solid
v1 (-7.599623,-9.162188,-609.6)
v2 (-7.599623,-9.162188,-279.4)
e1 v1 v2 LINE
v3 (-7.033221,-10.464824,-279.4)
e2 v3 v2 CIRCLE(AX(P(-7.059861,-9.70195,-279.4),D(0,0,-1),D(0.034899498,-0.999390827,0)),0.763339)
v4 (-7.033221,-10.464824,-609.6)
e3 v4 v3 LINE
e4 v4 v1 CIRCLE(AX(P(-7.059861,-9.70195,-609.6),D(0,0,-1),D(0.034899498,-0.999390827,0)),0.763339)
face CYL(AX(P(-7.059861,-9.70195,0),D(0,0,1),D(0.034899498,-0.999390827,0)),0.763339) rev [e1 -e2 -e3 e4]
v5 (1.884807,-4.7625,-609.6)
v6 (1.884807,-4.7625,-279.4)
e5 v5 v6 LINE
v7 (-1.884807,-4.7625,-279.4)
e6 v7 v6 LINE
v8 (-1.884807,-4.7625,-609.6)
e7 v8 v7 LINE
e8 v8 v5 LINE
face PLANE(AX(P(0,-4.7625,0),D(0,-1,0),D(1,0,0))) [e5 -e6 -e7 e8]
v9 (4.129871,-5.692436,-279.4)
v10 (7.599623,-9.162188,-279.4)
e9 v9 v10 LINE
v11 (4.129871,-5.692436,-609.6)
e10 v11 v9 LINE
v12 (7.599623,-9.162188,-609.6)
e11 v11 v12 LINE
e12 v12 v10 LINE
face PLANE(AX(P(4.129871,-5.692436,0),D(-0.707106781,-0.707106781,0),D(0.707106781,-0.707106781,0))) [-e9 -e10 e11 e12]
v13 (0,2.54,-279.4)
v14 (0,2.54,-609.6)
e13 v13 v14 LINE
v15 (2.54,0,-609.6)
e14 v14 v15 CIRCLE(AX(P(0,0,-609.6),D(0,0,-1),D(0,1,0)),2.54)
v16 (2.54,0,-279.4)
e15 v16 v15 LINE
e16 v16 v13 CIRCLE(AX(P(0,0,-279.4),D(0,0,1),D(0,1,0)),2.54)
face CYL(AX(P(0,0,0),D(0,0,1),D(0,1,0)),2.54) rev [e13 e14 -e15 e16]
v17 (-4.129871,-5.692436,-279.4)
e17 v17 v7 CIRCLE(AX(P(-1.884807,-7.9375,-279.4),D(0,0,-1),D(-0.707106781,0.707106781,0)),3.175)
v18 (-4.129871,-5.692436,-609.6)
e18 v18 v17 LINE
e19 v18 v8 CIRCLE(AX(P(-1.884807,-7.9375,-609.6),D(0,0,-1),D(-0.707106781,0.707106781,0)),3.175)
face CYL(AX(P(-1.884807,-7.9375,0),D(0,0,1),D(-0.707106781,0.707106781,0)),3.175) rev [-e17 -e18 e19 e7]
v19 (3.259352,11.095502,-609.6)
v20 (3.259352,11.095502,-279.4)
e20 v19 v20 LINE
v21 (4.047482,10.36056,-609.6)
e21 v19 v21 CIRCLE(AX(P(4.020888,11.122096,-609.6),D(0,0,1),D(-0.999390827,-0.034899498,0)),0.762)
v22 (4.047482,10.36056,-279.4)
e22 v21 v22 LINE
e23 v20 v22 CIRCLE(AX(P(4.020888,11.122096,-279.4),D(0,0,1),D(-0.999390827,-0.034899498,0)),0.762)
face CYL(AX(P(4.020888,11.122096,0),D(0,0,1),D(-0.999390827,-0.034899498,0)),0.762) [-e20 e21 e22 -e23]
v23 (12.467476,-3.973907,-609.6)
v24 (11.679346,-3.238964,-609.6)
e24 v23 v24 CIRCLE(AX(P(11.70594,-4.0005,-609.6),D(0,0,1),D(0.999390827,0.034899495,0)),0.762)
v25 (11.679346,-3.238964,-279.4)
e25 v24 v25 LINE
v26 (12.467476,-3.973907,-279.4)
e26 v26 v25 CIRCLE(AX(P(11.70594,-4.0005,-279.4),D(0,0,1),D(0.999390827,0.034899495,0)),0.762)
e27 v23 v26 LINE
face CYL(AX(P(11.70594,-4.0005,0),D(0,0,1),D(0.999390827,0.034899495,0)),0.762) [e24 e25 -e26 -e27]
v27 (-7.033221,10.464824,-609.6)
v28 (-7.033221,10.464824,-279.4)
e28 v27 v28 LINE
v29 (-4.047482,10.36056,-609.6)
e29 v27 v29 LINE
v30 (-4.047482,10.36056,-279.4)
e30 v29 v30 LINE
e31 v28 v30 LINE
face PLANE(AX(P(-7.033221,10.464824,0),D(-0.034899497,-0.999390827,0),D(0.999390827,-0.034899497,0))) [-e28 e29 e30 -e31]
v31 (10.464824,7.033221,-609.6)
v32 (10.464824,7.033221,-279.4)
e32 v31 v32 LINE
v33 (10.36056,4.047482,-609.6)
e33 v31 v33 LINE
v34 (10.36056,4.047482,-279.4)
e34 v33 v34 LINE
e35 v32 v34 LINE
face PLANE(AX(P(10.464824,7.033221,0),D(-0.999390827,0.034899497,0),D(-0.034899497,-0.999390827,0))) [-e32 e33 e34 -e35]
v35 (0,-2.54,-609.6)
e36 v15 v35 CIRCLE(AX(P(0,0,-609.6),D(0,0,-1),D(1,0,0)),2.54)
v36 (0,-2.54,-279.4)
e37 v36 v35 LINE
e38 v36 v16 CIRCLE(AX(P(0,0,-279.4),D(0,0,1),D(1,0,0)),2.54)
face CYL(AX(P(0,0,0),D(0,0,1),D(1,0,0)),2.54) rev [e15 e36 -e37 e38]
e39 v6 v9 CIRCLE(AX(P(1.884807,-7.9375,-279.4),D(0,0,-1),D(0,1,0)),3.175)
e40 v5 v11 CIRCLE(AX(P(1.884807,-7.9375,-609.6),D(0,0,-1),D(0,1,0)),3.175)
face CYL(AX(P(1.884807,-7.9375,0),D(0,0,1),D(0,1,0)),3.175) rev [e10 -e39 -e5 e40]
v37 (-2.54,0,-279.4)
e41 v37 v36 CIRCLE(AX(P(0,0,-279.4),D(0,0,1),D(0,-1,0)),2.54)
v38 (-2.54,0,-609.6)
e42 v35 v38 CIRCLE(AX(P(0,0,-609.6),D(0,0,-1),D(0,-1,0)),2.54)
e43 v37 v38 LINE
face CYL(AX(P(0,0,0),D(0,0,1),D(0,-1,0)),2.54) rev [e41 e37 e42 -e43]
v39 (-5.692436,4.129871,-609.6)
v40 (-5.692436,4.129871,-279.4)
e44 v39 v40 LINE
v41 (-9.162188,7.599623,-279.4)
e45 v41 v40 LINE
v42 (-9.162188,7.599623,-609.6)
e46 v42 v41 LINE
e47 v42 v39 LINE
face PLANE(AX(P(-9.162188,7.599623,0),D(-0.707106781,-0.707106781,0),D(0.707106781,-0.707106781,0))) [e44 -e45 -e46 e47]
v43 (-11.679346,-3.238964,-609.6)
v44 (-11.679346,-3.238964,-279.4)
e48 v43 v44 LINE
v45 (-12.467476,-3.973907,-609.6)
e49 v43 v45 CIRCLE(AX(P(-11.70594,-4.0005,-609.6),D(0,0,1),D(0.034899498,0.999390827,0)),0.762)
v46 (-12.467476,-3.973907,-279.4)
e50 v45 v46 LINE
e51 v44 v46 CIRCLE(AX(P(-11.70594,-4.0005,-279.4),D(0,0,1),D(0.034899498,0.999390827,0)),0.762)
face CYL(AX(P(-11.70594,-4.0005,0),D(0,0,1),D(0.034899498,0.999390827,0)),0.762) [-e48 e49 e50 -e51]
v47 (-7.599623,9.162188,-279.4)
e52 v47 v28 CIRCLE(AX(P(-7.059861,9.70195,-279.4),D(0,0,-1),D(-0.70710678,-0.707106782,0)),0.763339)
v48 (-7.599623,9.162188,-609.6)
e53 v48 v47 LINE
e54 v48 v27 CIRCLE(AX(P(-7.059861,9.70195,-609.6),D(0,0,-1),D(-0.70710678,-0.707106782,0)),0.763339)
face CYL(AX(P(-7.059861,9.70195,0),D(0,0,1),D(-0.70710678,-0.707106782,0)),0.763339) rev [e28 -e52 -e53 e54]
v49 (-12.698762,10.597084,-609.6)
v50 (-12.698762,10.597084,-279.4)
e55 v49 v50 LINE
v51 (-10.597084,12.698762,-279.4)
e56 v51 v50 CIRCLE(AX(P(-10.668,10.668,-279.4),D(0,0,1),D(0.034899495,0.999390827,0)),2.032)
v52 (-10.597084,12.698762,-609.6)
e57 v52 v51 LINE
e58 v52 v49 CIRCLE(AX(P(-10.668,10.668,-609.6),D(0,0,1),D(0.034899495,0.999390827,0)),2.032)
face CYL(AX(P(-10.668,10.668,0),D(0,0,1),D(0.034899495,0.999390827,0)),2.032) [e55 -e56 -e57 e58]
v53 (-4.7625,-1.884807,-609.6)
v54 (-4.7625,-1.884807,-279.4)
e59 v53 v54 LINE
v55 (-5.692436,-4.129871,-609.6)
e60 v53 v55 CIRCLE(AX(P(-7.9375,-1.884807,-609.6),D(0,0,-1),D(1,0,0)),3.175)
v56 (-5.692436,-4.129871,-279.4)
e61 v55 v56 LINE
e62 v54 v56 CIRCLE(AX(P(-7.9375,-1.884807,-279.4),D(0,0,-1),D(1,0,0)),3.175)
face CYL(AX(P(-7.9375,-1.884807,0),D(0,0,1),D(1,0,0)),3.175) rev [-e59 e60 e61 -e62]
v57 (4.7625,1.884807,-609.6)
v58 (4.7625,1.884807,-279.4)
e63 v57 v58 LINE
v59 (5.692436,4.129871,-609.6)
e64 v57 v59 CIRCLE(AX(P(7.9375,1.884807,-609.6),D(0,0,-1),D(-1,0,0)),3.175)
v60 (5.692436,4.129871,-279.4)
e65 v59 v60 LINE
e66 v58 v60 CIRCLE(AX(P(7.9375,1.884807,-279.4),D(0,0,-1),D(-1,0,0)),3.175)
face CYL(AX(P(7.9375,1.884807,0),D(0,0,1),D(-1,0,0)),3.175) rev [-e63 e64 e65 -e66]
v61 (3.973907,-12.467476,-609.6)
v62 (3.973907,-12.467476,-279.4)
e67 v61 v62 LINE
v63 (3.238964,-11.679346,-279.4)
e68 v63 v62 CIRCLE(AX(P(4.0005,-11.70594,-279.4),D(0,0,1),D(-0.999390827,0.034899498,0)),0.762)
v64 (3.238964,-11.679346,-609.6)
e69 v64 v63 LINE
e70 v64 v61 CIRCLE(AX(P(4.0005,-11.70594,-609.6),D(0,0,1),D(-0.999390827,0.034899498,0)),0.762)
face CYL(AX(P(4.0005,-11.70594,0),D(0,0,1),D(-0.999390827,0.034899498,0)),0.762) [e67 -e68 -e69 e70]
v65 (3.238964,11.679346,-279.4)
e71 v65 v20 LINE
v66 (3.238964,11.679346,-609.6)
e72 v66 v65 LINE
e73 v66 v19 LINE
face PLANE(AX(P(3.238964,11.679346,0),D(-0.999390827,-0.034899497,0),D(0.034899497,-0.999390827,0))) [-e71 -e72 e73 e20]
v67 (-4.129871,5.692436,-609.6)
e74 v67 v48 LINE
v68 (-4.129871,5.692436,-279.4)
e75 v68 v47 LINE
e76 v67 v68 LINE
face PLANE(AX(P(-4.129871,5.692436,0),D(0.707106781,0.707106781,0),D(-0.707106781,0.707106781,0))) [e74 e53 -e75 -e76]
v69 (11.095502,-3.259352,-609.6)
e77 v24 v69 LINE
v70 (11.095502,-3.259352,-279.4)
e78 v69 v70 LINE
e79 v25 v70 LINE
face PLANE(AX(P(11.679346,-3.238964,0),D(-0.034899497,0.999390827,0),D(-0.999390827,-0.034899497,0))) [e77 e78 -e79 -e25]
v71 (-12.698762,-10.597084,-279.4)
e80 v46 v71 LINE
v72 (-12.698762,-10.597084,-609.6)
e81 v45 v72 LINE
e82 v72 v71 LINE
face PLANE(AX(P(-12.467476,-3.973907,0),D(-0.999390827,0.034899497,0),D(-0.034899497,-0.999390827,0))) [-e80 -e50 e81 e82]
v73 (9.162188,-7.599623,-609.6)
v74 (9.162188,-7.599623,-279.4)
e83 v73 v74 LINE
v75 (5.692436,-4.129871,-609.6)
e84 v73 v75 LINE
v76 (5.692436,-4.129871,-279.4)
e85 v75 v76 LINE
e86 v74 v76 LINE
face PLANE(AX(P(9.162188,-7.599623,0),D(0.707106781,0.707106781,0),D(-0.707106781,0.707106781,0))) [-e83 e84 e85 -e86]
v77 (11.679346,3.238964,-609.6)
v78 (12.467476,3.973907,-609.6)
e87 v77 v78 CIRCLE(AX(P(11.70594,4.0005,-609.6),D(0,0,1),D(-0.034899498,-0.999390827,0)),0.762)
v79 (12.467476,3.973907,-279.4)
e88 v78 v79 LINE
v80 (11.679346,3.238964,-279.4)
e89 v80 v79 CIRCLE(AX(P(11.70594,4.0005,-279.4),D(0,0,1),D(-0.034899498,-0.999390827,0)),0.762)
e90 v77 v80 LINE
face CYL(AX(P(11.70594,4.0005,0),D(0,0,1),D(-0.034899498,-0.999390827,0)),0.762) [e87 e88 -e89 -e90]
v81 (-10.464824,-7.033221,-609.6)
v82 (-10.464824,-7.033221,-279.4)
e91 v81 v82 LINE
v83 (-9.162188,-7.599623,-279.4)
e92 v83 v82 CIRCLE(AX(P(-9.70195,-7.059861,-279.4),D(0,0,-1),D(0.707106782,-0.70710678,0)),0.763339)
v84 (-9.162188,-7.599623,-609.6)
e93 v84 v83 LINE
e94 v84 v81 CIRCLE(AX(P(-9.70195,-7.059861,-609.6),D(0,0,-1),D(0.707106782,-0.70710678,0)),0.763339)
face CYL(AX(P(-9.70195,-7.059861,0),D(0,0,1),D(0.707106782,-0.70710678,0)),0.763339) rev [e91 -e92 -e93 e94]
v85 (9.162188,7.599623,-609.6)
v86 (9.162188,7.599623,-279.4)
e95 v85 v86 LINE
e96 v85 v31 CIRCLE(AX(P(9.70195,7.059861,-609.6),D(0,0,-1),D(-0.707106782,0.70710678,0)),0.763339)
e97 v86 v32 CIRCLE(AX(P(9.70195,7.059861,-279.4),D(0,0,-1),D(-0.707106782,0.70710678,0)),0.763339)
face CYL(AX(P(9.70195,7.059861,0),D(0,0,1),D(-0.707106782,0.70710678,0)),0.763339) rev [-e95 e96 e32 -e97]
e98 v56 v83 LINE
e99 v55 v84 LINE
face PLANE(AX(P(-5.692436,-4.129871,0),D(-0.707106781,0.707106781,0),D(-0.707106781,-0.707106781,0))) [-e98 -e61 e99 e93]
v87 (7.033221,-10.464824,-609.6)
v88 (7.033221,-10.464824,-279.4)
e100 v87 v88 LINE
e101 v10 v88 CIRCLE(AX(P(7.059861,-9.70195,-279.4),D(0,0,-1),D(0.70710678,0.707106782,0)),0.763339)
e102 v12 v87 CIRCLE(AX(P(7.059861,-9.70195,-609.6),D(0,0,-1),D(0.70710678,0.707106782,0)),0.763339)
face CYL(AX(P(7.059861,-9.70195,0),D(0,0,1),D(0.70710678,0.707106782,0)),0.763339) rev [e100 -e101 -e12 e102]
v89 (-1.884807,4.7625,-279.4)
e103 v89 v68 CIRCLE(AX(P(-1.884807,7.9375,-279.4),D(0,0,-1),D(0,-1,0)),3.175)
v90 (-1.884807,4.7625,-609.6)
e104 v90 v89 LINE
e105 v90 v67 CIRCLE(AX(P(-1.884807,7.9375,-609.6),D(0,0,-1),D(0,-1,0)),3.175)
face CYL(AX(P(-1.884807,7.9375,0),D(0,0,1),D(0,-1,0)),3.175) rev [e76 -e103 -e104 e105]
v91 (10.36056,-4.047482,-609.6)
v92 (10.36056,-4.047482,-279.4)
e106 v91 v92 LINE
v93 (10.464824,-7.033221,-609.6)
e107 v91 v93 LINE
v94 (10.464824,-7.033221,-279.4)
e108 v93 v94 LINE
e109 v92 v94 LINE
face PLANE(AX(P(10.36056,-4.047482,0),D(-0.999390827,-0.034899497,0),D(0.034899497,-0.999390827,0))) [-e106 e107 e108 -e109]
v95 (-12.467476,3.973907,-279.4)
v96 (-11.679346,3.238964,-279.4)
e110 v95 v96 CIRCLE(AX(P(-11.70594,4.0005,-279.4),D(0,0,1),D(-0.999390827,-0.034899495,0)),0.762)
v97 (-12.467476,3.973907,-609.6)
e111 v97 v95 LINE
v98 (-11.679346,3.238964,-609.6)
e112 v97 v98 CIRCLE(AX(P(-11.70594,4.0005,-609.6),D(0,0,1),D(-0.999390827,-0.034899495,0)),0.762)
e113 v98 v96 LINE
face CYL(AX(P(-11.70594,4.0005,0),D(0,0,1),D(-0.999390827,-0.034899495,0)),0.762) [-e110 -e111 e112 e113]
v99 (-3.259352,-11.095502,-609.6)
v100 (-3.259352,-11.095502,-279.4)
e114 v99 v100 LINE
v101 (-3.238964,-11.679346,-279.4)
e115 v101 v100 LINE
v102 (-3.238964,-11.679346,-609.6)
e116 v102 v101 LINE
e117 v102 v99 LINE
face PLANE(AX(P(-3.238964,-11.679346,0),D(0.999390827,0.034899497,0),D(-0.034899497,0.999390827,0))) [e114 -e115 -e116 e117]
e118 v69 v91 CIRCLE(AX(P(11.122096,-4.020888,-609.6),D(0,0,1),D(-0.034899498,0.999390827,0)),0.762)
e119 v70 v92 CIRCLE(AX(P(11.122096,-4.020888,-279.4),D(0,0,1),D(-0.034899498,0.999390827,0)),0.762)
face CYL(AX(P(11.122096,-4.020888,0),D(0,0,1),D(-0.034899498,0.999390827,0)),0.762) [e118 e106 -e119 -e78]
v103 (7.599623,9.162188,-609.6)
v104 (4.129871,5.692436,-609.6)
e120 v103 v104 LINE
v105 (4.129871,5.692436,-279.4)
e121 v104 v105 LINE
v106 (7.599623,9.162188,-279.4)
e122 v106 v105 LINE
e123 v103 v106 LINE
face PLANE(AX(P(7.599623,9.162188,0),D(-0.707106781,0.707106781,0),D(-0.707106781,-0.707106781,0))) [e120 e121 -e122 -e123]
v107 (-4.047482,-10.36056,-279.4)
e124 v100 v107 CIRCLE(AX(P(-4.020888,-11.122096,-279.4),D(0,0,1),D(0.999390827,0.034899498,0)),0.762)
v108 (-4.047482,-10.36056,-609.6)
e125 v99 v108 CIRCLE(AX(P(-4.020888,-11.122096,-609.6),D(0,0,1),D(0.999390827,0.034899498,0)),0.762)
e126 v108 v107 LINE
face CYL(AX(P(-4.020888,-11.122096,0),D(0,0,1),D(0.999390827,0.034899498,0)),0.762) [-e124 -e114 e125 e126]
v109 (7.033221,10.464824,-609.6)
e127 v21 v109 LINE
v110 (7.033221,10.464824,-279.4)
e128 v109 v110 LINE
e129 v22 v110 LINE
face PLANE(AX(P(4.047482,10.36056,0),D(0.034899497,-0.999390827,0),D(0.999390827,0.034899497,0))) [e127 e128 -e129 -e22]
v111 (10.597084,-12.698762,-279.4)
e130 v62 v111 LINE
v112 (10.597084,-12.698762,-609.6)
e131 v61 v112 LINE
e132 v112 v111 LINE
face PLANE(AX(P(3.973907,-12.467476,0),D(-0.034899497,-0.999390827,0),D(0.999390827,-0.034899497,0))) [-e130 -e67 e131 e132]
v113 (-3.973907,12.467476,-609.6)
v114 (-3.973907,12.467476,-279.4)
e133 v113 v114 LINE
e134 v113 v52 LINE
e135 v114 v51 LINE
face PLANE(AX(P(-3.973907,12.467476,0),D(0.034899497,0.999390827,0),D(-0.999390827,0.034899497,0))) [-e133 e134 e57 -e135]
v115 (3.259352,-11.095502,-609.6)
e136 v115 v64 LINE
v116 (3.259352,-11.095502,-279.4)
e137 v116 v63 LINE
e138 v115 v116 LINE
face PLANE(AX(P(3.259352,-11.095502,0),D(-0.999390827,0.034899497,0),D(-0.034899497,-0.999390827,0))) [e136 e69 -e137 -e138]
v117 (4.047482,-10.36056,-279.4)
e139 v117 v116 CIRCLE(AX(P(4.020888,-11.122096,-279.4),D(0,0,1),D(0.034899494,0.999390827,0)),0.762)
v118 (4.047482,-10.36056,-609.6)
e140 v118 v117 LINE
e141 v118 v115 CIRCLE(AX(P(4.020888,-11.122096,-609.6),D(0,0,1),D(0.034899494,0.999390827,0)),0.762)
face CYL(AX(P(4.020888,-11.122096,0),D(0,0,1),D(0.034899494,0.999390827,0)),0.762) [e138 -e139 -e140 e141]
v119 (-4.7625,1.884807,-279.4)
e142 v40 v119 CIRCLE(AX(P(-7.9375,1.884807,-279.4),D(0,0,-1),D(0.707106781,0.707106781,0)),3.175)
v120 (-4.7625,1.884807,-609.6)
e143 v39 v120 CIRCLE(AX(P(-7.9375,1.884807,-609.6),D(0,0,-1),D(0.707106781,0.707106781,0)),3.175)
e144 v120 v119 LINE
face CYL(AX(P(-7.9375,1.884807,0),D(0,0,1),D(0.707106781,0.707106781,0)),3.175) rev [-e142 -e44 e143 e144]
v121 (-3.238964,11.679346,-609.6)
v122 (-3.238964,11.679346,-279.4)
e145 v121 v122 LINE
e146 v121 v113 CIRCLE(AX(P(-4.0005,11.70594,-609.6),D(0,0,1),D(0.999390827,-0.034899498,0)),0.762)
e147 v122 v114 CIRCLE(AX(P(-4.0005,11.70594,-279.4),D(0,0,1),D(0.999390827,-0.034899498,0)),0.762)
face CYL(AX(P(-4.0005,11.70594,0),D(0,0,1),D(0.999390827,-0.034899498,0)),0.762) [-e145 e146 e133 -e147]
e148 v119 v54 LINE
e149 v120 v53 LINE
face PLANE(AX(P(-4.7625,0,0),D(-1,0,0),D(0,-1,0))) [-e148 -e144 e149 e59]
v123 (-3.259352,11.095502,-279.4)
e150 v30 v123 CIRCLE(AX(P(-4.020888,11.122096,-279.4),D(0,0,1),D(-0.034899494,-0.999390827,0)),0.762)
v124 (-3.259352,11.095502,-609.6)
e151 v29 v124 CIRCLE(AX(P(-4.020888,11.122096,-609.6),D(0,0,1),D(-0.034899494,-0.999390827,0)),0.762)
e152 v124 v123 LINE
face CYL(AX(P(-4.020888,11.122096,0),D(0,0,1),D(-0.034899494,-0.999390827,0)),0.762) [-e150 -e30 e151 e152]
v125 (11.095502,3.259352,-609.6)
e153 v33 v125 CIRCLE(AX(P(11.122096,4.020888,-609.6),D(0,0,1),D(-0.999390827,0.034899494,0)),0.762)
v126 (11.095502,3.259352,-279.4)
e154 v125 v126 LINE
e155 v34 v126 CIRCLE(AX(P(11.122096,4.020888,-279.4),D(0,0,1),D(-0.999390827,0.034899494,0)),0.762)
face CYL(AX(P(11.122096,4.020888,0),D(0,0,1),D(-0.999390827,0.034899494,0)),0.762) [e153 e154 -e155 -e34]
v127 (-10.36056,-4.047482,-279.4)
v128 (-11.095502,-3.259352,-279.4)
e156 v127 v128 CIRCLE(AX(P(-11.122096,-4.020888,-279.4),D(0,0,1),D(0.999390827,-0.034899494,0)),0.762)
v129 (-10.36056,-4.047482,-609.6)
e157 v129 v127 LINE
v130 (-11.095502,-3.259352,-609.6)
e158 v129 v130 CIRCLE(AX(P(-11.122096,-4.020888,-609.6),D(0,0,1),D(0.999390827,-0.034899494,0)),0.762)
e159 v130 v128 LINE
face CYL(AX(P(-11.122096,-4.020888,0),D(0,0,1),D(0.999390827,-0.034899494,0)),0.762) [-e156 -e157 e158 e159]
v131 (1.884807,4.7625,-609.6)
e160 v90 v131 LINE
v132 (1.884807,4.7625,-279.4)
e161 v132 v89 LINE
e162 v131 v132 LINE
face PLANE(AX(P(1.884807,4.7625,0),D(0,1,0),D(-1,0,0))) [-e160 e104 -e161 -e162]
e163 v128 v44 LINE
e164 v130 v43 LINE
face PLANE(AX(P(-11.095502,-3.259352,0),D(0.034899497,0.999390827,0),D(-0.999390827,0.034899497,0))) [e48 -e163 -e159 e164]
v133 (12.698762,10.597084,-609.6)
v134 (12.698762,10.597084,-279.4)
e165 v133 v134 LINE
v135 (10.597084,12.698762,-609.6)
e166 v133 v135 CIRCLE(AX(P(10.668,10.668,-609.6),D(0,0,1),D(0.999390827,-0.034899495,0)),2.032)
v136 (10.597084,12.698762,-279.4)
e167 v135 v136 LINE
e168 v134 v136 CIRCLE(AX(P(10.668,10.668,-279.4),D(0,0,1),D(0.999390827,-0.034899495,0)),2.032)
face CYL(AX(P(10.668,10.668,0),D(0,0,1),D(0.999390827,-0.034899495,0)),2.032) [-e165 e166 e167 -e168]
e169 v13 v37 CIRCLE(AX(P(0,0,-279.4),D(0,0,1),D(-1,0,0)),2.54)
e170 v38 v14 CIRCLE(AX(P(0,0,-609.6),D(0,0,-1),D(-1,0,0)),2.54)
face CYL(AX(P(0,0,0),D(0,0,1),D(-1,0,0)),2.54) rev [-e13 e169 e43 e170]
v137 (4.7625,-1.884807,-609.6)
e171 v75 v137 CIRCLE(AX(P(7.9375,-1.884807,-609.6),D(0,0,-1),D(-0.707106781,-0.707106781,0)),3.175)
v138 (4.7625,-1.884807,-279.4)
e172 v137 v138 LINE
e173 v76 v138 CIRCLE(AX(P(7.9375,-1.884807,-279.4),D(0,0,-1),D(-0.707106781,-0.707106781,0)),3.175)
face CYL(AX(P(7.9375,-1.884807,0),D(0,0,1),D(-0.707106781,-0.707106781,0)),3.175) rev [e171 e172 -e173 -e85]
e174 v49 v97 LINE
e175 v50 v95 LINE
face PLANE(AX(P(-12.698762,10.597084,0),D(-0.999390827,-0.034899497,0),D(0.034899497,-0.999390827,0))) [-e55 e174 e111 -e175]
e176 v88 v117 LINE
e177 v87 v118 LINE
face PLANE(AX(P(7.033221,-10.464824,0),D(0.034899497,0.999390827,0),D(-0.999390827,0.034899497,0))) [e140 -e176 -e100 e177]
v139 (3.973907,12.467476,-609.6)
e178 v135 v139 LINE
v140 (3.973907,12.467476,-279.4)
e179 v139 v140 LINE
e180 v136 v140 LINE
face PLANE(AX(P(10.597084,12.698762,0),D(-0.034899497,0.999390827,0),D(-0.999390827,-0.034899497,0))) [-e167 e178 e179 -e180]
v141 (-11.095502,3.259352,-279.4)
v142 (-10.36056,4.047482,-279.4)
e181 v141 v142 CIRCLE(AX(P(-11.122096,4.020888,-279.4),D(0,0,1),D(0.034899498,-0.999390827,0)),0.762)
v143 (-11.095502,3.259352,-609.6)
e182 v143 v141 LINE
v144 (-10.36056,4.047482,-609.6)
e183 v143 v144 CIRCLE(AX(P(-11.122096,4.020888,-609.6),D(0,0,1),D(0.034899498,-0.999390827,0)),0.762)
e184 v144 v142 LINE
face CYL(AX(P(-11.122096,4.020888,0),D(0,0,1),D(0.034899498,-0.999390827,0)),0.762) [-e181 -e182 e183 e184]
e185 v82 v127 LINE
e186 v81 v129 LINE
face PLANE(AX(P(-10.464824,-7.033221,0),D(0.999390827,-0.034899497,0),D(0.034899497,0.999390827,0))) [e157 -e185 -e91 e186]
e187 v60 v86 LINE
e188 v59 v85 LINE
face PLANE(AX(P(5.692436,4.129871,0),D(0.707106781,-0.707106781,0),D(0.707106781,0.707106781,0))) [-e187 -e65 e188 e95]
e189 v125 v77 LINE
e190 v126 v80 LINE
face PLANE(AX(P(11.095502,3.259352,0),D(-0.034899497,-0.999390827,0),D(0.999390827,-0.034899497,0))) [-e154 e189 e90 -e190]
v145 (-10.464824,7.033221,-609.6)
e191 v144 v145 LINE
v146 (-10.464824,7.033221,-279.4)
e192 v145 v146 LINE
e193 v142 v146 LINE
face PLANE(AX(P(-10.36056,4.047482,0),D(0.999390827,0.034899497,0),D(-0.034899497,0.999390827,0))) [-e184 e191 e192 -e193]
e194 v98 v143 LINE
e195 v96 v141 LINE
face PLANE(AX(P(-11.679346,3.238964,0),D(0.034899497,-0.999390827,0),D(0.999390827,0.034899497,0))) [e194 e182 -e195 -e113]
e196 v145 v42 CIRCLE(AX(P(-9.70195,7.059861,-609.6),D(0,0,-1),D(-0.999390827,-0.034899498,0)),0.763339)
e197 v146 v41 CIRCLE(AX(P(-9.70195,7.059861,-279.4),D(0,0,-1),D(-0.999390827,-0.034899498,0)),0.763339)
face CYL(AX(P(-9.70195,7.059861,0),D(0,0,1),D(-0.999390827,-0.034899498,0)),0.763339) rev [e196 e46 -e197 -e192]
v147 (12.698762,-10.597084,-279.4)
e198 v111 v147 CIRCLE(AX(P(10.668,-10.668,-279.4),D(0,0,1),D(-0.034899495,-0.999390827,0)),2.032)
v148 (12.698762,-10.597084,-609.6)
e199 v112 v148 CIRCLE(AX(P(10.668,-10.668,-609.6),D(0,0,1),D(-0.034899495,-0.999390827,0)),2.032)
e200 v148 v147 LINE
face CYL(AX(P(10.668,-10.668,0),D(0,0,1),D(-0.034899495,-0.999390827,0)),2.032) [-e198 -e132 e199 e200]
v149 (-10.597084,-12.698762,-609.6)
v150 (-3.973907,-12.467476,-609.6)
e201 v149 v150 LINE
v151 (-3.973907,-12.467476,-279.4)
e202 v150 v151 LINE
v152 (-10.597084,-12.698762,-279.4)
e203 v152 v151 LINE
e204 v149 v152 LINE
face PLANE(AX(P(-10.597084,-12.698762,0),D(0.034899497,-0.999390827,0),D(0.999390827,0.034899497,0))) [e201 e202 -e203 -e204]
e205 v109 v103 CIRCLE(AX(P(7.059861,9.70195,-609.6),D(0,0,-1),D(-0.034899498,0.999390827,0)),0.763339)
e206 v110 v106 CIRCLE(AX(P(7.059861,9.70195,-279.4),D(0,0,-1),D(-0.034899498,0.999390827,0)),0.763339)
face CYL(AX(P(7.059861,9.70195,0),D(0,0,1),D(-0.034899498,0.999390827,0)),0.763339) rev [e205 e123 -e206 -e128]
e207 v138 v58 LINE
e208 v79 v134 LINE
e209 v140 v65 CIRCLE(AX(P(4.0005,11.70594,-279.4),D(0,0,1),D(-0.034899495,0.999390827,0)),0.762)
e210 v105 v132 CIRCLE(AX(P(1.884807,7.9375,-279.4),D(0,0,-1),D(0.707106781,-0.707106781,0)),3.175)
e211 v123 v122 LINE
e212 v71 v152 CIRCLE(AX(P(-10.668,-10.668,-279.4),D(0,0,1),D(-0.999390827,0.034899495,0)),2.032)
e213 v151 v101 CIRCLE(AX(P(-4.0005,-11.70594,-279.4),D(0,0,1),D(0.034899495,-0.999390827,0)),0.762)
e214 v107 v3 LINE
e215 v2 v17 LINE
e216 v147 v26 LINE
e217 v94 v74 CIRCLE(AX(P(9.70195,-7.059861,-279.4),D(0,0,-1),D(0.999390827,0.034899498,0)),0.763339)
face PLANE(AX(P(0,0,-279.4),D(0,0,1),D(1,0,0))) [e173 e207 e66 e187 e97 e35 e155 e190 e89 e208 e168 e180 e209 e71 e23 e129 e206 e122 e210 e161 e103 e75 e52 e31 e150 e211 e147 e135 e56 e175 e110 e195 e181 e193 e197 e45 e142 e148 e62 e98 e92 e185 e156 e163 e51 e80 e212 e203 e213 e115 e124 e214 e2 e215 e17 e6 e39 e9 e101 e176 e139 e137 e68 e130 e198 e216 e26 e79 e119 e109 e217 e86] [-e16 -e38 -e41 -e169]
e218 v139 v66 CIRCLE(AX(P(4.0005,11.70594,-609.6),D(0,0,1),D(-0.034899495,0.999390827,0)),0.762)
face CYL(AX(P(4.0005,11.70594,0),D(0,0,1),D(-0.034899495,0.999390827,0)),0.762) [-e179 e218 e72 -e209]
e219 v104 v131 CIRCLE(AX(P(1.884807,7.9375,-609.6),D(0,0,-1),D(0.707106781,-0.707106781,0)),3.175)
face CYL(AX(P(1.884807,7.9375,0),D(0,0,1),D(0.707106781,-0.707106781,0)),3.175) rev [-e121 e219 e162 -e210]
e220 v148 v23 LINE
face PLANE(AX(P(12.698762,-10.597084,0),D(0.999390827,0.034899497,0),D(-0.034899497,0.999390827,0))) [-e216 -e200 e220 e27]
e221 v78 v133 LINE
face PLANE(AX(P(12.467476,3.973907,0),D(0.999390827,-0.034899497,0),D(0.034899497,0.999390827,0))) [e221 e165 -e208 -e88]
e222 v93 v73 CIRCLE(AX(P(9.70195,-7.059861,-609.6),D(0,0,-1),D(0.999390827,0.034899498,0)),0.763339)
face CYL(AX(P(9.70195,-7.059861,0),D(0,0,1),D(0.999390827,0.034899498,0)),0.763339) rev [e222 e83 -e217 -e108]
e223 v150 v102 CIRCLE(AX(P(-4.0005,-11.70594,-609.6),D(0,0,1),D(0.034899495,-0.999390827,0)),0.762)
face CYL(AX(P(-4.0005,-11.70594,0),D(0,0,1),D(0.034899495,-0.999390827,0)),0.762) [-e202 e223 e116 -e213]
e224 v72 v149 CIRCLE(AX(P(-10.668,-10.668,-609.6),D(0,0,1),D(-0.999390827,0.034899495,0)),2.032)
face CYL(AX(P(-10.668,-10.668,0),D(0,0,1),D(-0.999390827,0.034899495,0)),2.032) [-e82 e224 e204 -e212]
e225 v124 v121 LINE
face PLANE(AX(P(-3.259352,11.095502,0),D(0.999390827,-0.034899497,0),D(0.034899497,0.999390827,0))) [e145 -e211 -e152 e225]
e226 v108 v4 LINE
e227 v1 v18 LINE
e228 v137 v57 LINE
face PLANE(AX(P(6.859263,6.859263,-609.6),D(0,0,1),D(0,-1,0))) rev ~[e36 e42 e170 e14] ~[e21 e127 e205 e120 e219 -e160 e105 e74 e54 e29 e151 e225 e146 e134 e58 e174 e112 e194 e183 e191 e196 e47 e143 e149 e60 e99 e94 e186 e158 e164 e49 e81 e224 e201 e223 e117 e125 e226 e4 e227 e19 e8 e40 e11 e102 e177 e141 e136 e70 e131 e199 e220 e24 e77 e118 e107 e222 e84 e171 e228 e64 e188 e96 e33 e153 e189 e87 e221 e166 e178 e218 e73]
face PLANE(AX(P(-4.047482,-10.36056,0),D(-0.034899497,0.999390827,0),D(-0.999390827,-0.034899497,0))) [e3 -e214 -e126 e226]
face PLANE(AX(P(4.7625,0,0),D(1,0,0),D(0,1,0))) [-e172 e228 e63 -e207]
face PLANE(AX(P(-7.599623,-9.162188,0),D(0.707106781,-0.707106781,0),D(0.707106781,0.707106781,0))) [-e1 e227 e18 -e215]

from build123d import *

# Parameters (mm, degrees)
BOSS_EXTRUDE1_DEPTH = 609.6
CIRPATTERN1_COUNT   = 4
CUT_EXTRUDE1_DEPTH  = 889


with BuildPart() as part:
    # Sketch3 → Boss-Extrude1 (new, symmetric)
    with BuildSketch(Plane.XY):
        with BuildLine():
            Line((0, 4.7625), (-1.884807374, 4.7625))
            ThreePointArc((-1.884807374, 4.7625), (-3.099827272, 5.004182484), (-4.129871405, 5.69243597))
            Line((-4.129871405, 5.69243597), (-7.599623114, 9.162187679))
            ThreePointArc((-7.599623114, 9.162187679), (-7.759888701, 10.006330839), (-7.033220609, 10.464824259))
            Line((-7.033220609, 10.464824259), (-4.047481702, 10.360559959))
            ThreePointArc((-4.047481702, 10.360559959), (-3.501205536, 10.564804249), (-3.259352476, 11.095502353))
            Line((-3.259352476, 11.095502353), (-3.23896419, 11.679346474))
            ThreePointArc((-3.23896419, 11.679346474), (-3.443208479, 12.225622641), (-3.973906584, 12.467475701))
            Line((-3.973906584, 12.467475701), (-10.597084223, 12.698762161))
            ThreePointArc((-10.597084223, 12.698762161), (-12.104840979, 12.104840979), (-12.698762161, 10.597084223))
            Line((-12.698762161, 10.597084223), (-12.467475701, 3.973906584))
            ThreePointArc((-12.467475701, 3.973906584), (-12.225622641, 3.443208479), (-11.679346474, 3.23896419))
            Line((-11.679346474, 3.23896419), (-11.095502353, 3.259352476))
            ThreePointArc((-11.095502353, 3.259352476), (-10.564804249, 3.501205536), (-10.360559959, 4.047481702))
            Line((-10.360559959, 4.047481702), (-10.464824259, 7.033220609))
            ThreePointArc((-10.464824259, 7.033220609), (-10.006330839, 7.759888701), (-9.162187679, 7.599623114))
            Line((-9.162187679, 7.599623114), (-5.69243597, 4.129871405))
            ThreePointArc((-5.69243597, 4.129871405), (-5.004182484, 3.099827272), (-4.7625, 1.884807374))
            Line((-4.7625, 1.884807374), (-4.7625, 0))
            Line((-4.7625, 0), (-2.54, 0))
            ThreePointArc((-2.54, 0), (-1.796051224, 1.796051224), (0, 2.54))
            Line((0, 2.54), (0, 4.7625))
        make_face()
    boss_extrude1 = extrude(amount=BOSS_EXTRUDE1_DEPTH, both=True)

    # CirPattern1: Boss-Extrude1 ×4 about axis
    cirpattern1_axis = Axis((0, 0, 0), (0, 0, 1))
    for i in range(1, CIRPATTERN1_COUNT):
        add(boss_extrude1.rotate(cirpattern1_axis, i * 360 / CIRPATTERN1_COUNT))

    # Sketch4 → Cut-Extrude1 (cut)
    with BuildSketch(Plane.XY.offset(609.6)):
        with BuildLine():
            Line((1.884807374, 4.7625), (-1.884807374, 4.7625))
            ThreePointArc((-1.884807374, 4.7625), (-3.099827272, 5.004182484), (-4.129871405, 5.69243597))
            Line((-4.129871405, 5.69243597), (-7.599623114, 9.162187679))
            ThreePointArc((-7.599623114, 9.162187679), (-7.759888701, 10.006330839), (-7.033220609, 10.464824259))
            Line((-7.033220609, 10.464824259), (-4.047481702, 10.360559959))
            ThreePointArc((-4.047481702, 10.360559959), (-3.501205536, 10.564804249), (-3.259352476, 11.095502353))
            Line((-3.259352476, 11.095502353), (-3.23896419, 11.679346474))
            ThreePointArc((-3.23896419, 11.679346474), (-3.443208479, 12.225622641), (-3.973906584, 12.467475701))
            Line((-3.973906584, 12.467475701), (-10.597084223, 12.698762161))
            ThreePointArc((-10.597084223, 12.698762161), (-12.104840979, 12.104840979), (-12.698762161, 10.597084223))
            Line((-12.698762161, 10.597084223), (-12.467475701, 3.973906584))
            ThreePointArc((-12.467475701, 3.973906584), (-12.225622641, 3.443208479), (-11.679346474, 3.23896419))
            Line((-11.679346474, 3.23896419), (-11.095502353, 3.259352476))
            ThreePointArc((-11.095502353, 3.259352476), (-10.564804249, 3.501205536), (-10.360559959, 4.047481702))
            Line((-10.360559959, 4.047481702), (-10.464824259, 7.033220609))
            ThreePointArc((-10.464824259, 7.033220609), (-10.006330839, 7.759888701), (-9.162187679, 7.599623114))
            Line((-9.162187679, 7.599623114), (-5.69243597, 4.129871405))
            ThreePointArc((-5.69243597, 4.129871405), (-5.004182484, 3.099827272), (-4.7625, 1.884807374))
            Line((-4.7625, 1.884807374), (-4.7625, -1.884807374))
            ThreePointArc((-4.7625, -1.884807374), (-5.004182484, -3.099827272), (-5.69243597, -4.129871405))
            Line((-5.69243597, -4.129871405), (-9.162187679, -7.599623114))
            ThreePointArc((-9.162187679, -7.599623114), (-10.006330839, -7.759888701), (-10.464824259, -7.033220609))
            Line((-10.464824259, -7.033220609), (-10.360559959, -4.047481702))
            ThreePointArc((-10.360559959, -4.047481702), (-10.564804249, -3.501205536), (-11.095502353, -3.259352476))
            Line((-11.095502353, -3.259352476), (-11.679346474, -3.23896419))
            ThreePointArc((-11.679346474, -3.23896419), (-12.225622641, -3.443208479), (-12.467475701, -3.973906584))
            Line((-12.467475701, -3.973906584), (-12.698762161, -10.597084223))
            ThreePointArc((-12.698762161, -10.597084223), (-12.104840979, -12.104840979), (-10.597084223, -12.698762161))
            Line((-10.597084223, -12.698762161), (-3.973906584, -12.467475701))
            ThreePointArc((-3.973906584, -12.467475701), (-3.443208479, -12.225622641), (-3.23896419, -11.679346474))
            Line((-3.23896419, -11.679346474), (-3.259352476, -11.095502353))
            ThreePointArc((-3.259352476, -11.095502353), (-3.501205536, -10.564804249), (-4.047481702, -10.360559959))
            Line((-4.047481702, -10.360559959), (-7.033220609, -10.464824259))
            ThreePointArc((-7.033220609, -10.464824259), (-7.759888701, -10.006330839), (-7.599623114, -9.162187679))
            Line((-7.599623114, -9.162187679), (-4.129871405, -5.69243597))
            ThreePointArc((-4.129871405, -5.69243597), (-3.099827272, -5.004182484), (-1.884807374, -4.7625))
            Line((-1.884807374, -4.7625), (1.884807374, -4.7625))
            ThreePointArc((1.884807374, -4.7625), (3.099827272, -5.004182484), (4.129871405, -5.69243597))
            Line((4.129871405, -5.69243597), (7.599623114, -9.162187679))
            ThreePointArc((7.599623114, -9.162187679), (7.759888701, -10.006330839), (7.033220609, -10.464824259))
            Line((7.033220609, -10.464824259), (4.047481702, -10.360559959))
            ThreePointArc((4.047481702, -10.360559959), (3.501205536, -10.564804249), (3.259352476, -11.095502353))
            Line((3.259352476, -11.095502353), (3.23896419, -11.679346474))
            ThreePointArc((3.23896419, -11.679346474), (3.443208479, -12.225622641), (3.973906584, -12.467475701))
            Line((3.973906584, -12.467475701), (10.597084223, -12.698762161))
            ThreePointArc((10.597084223, -12.698762161), (12.104840979, -12.104840979), (12.698762161, -10.597084223))
            Line((12.698762161, -10.597084223), (12.467475701, -3.973906584))
            ThreePointArc((12.467475701, -3.973906584), (12.225622641, -3.443208479), (11.679346474, -3.23896419))
            Line((11.679346474, -3.23896419), (11.095502353, -3.259352476))
            ThreePointArc((11.095502353, -3.259352476), (10.564804249, -3.501205536), (10.360559959, -4.047481702))
            Line((10.360559959, -4.047481702), (10.464824259, -7.033220609))
            ThreePointArc((10.464824259, -7.033220609), (10.006330839, -7.759888701), (9.162187679, -7.599623114))
            Line((9.162187679, -7.599623114), (5.69243597, -4.129871405))
            ThreePointArc((5.69243597, -4.129871405), (5.004182484, -3.099827272), (4.7625, -1.884807374))
            Line((4.7625, -1.884807374), (4.7625, 1.884807374))
            ThreePointArc((4.7625, 1.884807374), (5.004182484, 3.099827272), (5.69243597, 4.129871405))
            Line((5.69243597, 4.129871405), (9.162187679, 7.599623114))
            ThreePointArc((9.162187679, 7.599623114), (10.006330839, 7.759888701), (10.464824259, 7.033220609))
            Line((10.464824259, 7.033220609), (10.360559959, 4.047481702))
            ThreePointArc((10.360559959, 4.047481702), (10.564804249, 3.501205536), (11.095502353, 3.259352476))
            Line((11.095502353, 3.259352476), (11.679346474, 3.23896419))
            ThreePointArc((11.679346474, 3.23896419), (12.225622641, 3.443208479), (12.467475701, 3.973906584))
            Line((12.467475701, 3.973906584), (12.698762161, 10.597084223))
            ThreePointArc((12.698762161, 10.597084223), (12.104840979, 12.104840979), (10.597084223, 12.698762161))
            Line((10.597084223, 12.698762161), (3.973906584, 12.467475701))
            ThreePointArc((3.973906584, 12.467475701), (3.443208479, 12.225622641), (3.23896419, 11.679346474))
            Line((3.23896419, 11.679346474), (3.259352476, 11.095502353))
            ThreePointArc((3.259352476, 11.095502353), (3.501205536, 10.564804249), (4.047481702, 10.360559959))
            Line((4.047481702, 10.360559959), (7.033220609, 10.464824259))
            ThreePointArc((7.033220609, 10.464824259), (7.759888701, 10.006330839), (7.599623114, 9.162187679))
            Line((7.599623114, 9.162187679), (4.129871405, 5.69243597))
            ThreePointArc((4.129871405, 5.69243597), (3.099827272, 5.004182484), (1.884807374, 4.7625))
        make_face()
    extrude(amount=-CUT_EXTRUDE1_DEPTH, mode=Mode.SUBTRACT)


solid = part.part
